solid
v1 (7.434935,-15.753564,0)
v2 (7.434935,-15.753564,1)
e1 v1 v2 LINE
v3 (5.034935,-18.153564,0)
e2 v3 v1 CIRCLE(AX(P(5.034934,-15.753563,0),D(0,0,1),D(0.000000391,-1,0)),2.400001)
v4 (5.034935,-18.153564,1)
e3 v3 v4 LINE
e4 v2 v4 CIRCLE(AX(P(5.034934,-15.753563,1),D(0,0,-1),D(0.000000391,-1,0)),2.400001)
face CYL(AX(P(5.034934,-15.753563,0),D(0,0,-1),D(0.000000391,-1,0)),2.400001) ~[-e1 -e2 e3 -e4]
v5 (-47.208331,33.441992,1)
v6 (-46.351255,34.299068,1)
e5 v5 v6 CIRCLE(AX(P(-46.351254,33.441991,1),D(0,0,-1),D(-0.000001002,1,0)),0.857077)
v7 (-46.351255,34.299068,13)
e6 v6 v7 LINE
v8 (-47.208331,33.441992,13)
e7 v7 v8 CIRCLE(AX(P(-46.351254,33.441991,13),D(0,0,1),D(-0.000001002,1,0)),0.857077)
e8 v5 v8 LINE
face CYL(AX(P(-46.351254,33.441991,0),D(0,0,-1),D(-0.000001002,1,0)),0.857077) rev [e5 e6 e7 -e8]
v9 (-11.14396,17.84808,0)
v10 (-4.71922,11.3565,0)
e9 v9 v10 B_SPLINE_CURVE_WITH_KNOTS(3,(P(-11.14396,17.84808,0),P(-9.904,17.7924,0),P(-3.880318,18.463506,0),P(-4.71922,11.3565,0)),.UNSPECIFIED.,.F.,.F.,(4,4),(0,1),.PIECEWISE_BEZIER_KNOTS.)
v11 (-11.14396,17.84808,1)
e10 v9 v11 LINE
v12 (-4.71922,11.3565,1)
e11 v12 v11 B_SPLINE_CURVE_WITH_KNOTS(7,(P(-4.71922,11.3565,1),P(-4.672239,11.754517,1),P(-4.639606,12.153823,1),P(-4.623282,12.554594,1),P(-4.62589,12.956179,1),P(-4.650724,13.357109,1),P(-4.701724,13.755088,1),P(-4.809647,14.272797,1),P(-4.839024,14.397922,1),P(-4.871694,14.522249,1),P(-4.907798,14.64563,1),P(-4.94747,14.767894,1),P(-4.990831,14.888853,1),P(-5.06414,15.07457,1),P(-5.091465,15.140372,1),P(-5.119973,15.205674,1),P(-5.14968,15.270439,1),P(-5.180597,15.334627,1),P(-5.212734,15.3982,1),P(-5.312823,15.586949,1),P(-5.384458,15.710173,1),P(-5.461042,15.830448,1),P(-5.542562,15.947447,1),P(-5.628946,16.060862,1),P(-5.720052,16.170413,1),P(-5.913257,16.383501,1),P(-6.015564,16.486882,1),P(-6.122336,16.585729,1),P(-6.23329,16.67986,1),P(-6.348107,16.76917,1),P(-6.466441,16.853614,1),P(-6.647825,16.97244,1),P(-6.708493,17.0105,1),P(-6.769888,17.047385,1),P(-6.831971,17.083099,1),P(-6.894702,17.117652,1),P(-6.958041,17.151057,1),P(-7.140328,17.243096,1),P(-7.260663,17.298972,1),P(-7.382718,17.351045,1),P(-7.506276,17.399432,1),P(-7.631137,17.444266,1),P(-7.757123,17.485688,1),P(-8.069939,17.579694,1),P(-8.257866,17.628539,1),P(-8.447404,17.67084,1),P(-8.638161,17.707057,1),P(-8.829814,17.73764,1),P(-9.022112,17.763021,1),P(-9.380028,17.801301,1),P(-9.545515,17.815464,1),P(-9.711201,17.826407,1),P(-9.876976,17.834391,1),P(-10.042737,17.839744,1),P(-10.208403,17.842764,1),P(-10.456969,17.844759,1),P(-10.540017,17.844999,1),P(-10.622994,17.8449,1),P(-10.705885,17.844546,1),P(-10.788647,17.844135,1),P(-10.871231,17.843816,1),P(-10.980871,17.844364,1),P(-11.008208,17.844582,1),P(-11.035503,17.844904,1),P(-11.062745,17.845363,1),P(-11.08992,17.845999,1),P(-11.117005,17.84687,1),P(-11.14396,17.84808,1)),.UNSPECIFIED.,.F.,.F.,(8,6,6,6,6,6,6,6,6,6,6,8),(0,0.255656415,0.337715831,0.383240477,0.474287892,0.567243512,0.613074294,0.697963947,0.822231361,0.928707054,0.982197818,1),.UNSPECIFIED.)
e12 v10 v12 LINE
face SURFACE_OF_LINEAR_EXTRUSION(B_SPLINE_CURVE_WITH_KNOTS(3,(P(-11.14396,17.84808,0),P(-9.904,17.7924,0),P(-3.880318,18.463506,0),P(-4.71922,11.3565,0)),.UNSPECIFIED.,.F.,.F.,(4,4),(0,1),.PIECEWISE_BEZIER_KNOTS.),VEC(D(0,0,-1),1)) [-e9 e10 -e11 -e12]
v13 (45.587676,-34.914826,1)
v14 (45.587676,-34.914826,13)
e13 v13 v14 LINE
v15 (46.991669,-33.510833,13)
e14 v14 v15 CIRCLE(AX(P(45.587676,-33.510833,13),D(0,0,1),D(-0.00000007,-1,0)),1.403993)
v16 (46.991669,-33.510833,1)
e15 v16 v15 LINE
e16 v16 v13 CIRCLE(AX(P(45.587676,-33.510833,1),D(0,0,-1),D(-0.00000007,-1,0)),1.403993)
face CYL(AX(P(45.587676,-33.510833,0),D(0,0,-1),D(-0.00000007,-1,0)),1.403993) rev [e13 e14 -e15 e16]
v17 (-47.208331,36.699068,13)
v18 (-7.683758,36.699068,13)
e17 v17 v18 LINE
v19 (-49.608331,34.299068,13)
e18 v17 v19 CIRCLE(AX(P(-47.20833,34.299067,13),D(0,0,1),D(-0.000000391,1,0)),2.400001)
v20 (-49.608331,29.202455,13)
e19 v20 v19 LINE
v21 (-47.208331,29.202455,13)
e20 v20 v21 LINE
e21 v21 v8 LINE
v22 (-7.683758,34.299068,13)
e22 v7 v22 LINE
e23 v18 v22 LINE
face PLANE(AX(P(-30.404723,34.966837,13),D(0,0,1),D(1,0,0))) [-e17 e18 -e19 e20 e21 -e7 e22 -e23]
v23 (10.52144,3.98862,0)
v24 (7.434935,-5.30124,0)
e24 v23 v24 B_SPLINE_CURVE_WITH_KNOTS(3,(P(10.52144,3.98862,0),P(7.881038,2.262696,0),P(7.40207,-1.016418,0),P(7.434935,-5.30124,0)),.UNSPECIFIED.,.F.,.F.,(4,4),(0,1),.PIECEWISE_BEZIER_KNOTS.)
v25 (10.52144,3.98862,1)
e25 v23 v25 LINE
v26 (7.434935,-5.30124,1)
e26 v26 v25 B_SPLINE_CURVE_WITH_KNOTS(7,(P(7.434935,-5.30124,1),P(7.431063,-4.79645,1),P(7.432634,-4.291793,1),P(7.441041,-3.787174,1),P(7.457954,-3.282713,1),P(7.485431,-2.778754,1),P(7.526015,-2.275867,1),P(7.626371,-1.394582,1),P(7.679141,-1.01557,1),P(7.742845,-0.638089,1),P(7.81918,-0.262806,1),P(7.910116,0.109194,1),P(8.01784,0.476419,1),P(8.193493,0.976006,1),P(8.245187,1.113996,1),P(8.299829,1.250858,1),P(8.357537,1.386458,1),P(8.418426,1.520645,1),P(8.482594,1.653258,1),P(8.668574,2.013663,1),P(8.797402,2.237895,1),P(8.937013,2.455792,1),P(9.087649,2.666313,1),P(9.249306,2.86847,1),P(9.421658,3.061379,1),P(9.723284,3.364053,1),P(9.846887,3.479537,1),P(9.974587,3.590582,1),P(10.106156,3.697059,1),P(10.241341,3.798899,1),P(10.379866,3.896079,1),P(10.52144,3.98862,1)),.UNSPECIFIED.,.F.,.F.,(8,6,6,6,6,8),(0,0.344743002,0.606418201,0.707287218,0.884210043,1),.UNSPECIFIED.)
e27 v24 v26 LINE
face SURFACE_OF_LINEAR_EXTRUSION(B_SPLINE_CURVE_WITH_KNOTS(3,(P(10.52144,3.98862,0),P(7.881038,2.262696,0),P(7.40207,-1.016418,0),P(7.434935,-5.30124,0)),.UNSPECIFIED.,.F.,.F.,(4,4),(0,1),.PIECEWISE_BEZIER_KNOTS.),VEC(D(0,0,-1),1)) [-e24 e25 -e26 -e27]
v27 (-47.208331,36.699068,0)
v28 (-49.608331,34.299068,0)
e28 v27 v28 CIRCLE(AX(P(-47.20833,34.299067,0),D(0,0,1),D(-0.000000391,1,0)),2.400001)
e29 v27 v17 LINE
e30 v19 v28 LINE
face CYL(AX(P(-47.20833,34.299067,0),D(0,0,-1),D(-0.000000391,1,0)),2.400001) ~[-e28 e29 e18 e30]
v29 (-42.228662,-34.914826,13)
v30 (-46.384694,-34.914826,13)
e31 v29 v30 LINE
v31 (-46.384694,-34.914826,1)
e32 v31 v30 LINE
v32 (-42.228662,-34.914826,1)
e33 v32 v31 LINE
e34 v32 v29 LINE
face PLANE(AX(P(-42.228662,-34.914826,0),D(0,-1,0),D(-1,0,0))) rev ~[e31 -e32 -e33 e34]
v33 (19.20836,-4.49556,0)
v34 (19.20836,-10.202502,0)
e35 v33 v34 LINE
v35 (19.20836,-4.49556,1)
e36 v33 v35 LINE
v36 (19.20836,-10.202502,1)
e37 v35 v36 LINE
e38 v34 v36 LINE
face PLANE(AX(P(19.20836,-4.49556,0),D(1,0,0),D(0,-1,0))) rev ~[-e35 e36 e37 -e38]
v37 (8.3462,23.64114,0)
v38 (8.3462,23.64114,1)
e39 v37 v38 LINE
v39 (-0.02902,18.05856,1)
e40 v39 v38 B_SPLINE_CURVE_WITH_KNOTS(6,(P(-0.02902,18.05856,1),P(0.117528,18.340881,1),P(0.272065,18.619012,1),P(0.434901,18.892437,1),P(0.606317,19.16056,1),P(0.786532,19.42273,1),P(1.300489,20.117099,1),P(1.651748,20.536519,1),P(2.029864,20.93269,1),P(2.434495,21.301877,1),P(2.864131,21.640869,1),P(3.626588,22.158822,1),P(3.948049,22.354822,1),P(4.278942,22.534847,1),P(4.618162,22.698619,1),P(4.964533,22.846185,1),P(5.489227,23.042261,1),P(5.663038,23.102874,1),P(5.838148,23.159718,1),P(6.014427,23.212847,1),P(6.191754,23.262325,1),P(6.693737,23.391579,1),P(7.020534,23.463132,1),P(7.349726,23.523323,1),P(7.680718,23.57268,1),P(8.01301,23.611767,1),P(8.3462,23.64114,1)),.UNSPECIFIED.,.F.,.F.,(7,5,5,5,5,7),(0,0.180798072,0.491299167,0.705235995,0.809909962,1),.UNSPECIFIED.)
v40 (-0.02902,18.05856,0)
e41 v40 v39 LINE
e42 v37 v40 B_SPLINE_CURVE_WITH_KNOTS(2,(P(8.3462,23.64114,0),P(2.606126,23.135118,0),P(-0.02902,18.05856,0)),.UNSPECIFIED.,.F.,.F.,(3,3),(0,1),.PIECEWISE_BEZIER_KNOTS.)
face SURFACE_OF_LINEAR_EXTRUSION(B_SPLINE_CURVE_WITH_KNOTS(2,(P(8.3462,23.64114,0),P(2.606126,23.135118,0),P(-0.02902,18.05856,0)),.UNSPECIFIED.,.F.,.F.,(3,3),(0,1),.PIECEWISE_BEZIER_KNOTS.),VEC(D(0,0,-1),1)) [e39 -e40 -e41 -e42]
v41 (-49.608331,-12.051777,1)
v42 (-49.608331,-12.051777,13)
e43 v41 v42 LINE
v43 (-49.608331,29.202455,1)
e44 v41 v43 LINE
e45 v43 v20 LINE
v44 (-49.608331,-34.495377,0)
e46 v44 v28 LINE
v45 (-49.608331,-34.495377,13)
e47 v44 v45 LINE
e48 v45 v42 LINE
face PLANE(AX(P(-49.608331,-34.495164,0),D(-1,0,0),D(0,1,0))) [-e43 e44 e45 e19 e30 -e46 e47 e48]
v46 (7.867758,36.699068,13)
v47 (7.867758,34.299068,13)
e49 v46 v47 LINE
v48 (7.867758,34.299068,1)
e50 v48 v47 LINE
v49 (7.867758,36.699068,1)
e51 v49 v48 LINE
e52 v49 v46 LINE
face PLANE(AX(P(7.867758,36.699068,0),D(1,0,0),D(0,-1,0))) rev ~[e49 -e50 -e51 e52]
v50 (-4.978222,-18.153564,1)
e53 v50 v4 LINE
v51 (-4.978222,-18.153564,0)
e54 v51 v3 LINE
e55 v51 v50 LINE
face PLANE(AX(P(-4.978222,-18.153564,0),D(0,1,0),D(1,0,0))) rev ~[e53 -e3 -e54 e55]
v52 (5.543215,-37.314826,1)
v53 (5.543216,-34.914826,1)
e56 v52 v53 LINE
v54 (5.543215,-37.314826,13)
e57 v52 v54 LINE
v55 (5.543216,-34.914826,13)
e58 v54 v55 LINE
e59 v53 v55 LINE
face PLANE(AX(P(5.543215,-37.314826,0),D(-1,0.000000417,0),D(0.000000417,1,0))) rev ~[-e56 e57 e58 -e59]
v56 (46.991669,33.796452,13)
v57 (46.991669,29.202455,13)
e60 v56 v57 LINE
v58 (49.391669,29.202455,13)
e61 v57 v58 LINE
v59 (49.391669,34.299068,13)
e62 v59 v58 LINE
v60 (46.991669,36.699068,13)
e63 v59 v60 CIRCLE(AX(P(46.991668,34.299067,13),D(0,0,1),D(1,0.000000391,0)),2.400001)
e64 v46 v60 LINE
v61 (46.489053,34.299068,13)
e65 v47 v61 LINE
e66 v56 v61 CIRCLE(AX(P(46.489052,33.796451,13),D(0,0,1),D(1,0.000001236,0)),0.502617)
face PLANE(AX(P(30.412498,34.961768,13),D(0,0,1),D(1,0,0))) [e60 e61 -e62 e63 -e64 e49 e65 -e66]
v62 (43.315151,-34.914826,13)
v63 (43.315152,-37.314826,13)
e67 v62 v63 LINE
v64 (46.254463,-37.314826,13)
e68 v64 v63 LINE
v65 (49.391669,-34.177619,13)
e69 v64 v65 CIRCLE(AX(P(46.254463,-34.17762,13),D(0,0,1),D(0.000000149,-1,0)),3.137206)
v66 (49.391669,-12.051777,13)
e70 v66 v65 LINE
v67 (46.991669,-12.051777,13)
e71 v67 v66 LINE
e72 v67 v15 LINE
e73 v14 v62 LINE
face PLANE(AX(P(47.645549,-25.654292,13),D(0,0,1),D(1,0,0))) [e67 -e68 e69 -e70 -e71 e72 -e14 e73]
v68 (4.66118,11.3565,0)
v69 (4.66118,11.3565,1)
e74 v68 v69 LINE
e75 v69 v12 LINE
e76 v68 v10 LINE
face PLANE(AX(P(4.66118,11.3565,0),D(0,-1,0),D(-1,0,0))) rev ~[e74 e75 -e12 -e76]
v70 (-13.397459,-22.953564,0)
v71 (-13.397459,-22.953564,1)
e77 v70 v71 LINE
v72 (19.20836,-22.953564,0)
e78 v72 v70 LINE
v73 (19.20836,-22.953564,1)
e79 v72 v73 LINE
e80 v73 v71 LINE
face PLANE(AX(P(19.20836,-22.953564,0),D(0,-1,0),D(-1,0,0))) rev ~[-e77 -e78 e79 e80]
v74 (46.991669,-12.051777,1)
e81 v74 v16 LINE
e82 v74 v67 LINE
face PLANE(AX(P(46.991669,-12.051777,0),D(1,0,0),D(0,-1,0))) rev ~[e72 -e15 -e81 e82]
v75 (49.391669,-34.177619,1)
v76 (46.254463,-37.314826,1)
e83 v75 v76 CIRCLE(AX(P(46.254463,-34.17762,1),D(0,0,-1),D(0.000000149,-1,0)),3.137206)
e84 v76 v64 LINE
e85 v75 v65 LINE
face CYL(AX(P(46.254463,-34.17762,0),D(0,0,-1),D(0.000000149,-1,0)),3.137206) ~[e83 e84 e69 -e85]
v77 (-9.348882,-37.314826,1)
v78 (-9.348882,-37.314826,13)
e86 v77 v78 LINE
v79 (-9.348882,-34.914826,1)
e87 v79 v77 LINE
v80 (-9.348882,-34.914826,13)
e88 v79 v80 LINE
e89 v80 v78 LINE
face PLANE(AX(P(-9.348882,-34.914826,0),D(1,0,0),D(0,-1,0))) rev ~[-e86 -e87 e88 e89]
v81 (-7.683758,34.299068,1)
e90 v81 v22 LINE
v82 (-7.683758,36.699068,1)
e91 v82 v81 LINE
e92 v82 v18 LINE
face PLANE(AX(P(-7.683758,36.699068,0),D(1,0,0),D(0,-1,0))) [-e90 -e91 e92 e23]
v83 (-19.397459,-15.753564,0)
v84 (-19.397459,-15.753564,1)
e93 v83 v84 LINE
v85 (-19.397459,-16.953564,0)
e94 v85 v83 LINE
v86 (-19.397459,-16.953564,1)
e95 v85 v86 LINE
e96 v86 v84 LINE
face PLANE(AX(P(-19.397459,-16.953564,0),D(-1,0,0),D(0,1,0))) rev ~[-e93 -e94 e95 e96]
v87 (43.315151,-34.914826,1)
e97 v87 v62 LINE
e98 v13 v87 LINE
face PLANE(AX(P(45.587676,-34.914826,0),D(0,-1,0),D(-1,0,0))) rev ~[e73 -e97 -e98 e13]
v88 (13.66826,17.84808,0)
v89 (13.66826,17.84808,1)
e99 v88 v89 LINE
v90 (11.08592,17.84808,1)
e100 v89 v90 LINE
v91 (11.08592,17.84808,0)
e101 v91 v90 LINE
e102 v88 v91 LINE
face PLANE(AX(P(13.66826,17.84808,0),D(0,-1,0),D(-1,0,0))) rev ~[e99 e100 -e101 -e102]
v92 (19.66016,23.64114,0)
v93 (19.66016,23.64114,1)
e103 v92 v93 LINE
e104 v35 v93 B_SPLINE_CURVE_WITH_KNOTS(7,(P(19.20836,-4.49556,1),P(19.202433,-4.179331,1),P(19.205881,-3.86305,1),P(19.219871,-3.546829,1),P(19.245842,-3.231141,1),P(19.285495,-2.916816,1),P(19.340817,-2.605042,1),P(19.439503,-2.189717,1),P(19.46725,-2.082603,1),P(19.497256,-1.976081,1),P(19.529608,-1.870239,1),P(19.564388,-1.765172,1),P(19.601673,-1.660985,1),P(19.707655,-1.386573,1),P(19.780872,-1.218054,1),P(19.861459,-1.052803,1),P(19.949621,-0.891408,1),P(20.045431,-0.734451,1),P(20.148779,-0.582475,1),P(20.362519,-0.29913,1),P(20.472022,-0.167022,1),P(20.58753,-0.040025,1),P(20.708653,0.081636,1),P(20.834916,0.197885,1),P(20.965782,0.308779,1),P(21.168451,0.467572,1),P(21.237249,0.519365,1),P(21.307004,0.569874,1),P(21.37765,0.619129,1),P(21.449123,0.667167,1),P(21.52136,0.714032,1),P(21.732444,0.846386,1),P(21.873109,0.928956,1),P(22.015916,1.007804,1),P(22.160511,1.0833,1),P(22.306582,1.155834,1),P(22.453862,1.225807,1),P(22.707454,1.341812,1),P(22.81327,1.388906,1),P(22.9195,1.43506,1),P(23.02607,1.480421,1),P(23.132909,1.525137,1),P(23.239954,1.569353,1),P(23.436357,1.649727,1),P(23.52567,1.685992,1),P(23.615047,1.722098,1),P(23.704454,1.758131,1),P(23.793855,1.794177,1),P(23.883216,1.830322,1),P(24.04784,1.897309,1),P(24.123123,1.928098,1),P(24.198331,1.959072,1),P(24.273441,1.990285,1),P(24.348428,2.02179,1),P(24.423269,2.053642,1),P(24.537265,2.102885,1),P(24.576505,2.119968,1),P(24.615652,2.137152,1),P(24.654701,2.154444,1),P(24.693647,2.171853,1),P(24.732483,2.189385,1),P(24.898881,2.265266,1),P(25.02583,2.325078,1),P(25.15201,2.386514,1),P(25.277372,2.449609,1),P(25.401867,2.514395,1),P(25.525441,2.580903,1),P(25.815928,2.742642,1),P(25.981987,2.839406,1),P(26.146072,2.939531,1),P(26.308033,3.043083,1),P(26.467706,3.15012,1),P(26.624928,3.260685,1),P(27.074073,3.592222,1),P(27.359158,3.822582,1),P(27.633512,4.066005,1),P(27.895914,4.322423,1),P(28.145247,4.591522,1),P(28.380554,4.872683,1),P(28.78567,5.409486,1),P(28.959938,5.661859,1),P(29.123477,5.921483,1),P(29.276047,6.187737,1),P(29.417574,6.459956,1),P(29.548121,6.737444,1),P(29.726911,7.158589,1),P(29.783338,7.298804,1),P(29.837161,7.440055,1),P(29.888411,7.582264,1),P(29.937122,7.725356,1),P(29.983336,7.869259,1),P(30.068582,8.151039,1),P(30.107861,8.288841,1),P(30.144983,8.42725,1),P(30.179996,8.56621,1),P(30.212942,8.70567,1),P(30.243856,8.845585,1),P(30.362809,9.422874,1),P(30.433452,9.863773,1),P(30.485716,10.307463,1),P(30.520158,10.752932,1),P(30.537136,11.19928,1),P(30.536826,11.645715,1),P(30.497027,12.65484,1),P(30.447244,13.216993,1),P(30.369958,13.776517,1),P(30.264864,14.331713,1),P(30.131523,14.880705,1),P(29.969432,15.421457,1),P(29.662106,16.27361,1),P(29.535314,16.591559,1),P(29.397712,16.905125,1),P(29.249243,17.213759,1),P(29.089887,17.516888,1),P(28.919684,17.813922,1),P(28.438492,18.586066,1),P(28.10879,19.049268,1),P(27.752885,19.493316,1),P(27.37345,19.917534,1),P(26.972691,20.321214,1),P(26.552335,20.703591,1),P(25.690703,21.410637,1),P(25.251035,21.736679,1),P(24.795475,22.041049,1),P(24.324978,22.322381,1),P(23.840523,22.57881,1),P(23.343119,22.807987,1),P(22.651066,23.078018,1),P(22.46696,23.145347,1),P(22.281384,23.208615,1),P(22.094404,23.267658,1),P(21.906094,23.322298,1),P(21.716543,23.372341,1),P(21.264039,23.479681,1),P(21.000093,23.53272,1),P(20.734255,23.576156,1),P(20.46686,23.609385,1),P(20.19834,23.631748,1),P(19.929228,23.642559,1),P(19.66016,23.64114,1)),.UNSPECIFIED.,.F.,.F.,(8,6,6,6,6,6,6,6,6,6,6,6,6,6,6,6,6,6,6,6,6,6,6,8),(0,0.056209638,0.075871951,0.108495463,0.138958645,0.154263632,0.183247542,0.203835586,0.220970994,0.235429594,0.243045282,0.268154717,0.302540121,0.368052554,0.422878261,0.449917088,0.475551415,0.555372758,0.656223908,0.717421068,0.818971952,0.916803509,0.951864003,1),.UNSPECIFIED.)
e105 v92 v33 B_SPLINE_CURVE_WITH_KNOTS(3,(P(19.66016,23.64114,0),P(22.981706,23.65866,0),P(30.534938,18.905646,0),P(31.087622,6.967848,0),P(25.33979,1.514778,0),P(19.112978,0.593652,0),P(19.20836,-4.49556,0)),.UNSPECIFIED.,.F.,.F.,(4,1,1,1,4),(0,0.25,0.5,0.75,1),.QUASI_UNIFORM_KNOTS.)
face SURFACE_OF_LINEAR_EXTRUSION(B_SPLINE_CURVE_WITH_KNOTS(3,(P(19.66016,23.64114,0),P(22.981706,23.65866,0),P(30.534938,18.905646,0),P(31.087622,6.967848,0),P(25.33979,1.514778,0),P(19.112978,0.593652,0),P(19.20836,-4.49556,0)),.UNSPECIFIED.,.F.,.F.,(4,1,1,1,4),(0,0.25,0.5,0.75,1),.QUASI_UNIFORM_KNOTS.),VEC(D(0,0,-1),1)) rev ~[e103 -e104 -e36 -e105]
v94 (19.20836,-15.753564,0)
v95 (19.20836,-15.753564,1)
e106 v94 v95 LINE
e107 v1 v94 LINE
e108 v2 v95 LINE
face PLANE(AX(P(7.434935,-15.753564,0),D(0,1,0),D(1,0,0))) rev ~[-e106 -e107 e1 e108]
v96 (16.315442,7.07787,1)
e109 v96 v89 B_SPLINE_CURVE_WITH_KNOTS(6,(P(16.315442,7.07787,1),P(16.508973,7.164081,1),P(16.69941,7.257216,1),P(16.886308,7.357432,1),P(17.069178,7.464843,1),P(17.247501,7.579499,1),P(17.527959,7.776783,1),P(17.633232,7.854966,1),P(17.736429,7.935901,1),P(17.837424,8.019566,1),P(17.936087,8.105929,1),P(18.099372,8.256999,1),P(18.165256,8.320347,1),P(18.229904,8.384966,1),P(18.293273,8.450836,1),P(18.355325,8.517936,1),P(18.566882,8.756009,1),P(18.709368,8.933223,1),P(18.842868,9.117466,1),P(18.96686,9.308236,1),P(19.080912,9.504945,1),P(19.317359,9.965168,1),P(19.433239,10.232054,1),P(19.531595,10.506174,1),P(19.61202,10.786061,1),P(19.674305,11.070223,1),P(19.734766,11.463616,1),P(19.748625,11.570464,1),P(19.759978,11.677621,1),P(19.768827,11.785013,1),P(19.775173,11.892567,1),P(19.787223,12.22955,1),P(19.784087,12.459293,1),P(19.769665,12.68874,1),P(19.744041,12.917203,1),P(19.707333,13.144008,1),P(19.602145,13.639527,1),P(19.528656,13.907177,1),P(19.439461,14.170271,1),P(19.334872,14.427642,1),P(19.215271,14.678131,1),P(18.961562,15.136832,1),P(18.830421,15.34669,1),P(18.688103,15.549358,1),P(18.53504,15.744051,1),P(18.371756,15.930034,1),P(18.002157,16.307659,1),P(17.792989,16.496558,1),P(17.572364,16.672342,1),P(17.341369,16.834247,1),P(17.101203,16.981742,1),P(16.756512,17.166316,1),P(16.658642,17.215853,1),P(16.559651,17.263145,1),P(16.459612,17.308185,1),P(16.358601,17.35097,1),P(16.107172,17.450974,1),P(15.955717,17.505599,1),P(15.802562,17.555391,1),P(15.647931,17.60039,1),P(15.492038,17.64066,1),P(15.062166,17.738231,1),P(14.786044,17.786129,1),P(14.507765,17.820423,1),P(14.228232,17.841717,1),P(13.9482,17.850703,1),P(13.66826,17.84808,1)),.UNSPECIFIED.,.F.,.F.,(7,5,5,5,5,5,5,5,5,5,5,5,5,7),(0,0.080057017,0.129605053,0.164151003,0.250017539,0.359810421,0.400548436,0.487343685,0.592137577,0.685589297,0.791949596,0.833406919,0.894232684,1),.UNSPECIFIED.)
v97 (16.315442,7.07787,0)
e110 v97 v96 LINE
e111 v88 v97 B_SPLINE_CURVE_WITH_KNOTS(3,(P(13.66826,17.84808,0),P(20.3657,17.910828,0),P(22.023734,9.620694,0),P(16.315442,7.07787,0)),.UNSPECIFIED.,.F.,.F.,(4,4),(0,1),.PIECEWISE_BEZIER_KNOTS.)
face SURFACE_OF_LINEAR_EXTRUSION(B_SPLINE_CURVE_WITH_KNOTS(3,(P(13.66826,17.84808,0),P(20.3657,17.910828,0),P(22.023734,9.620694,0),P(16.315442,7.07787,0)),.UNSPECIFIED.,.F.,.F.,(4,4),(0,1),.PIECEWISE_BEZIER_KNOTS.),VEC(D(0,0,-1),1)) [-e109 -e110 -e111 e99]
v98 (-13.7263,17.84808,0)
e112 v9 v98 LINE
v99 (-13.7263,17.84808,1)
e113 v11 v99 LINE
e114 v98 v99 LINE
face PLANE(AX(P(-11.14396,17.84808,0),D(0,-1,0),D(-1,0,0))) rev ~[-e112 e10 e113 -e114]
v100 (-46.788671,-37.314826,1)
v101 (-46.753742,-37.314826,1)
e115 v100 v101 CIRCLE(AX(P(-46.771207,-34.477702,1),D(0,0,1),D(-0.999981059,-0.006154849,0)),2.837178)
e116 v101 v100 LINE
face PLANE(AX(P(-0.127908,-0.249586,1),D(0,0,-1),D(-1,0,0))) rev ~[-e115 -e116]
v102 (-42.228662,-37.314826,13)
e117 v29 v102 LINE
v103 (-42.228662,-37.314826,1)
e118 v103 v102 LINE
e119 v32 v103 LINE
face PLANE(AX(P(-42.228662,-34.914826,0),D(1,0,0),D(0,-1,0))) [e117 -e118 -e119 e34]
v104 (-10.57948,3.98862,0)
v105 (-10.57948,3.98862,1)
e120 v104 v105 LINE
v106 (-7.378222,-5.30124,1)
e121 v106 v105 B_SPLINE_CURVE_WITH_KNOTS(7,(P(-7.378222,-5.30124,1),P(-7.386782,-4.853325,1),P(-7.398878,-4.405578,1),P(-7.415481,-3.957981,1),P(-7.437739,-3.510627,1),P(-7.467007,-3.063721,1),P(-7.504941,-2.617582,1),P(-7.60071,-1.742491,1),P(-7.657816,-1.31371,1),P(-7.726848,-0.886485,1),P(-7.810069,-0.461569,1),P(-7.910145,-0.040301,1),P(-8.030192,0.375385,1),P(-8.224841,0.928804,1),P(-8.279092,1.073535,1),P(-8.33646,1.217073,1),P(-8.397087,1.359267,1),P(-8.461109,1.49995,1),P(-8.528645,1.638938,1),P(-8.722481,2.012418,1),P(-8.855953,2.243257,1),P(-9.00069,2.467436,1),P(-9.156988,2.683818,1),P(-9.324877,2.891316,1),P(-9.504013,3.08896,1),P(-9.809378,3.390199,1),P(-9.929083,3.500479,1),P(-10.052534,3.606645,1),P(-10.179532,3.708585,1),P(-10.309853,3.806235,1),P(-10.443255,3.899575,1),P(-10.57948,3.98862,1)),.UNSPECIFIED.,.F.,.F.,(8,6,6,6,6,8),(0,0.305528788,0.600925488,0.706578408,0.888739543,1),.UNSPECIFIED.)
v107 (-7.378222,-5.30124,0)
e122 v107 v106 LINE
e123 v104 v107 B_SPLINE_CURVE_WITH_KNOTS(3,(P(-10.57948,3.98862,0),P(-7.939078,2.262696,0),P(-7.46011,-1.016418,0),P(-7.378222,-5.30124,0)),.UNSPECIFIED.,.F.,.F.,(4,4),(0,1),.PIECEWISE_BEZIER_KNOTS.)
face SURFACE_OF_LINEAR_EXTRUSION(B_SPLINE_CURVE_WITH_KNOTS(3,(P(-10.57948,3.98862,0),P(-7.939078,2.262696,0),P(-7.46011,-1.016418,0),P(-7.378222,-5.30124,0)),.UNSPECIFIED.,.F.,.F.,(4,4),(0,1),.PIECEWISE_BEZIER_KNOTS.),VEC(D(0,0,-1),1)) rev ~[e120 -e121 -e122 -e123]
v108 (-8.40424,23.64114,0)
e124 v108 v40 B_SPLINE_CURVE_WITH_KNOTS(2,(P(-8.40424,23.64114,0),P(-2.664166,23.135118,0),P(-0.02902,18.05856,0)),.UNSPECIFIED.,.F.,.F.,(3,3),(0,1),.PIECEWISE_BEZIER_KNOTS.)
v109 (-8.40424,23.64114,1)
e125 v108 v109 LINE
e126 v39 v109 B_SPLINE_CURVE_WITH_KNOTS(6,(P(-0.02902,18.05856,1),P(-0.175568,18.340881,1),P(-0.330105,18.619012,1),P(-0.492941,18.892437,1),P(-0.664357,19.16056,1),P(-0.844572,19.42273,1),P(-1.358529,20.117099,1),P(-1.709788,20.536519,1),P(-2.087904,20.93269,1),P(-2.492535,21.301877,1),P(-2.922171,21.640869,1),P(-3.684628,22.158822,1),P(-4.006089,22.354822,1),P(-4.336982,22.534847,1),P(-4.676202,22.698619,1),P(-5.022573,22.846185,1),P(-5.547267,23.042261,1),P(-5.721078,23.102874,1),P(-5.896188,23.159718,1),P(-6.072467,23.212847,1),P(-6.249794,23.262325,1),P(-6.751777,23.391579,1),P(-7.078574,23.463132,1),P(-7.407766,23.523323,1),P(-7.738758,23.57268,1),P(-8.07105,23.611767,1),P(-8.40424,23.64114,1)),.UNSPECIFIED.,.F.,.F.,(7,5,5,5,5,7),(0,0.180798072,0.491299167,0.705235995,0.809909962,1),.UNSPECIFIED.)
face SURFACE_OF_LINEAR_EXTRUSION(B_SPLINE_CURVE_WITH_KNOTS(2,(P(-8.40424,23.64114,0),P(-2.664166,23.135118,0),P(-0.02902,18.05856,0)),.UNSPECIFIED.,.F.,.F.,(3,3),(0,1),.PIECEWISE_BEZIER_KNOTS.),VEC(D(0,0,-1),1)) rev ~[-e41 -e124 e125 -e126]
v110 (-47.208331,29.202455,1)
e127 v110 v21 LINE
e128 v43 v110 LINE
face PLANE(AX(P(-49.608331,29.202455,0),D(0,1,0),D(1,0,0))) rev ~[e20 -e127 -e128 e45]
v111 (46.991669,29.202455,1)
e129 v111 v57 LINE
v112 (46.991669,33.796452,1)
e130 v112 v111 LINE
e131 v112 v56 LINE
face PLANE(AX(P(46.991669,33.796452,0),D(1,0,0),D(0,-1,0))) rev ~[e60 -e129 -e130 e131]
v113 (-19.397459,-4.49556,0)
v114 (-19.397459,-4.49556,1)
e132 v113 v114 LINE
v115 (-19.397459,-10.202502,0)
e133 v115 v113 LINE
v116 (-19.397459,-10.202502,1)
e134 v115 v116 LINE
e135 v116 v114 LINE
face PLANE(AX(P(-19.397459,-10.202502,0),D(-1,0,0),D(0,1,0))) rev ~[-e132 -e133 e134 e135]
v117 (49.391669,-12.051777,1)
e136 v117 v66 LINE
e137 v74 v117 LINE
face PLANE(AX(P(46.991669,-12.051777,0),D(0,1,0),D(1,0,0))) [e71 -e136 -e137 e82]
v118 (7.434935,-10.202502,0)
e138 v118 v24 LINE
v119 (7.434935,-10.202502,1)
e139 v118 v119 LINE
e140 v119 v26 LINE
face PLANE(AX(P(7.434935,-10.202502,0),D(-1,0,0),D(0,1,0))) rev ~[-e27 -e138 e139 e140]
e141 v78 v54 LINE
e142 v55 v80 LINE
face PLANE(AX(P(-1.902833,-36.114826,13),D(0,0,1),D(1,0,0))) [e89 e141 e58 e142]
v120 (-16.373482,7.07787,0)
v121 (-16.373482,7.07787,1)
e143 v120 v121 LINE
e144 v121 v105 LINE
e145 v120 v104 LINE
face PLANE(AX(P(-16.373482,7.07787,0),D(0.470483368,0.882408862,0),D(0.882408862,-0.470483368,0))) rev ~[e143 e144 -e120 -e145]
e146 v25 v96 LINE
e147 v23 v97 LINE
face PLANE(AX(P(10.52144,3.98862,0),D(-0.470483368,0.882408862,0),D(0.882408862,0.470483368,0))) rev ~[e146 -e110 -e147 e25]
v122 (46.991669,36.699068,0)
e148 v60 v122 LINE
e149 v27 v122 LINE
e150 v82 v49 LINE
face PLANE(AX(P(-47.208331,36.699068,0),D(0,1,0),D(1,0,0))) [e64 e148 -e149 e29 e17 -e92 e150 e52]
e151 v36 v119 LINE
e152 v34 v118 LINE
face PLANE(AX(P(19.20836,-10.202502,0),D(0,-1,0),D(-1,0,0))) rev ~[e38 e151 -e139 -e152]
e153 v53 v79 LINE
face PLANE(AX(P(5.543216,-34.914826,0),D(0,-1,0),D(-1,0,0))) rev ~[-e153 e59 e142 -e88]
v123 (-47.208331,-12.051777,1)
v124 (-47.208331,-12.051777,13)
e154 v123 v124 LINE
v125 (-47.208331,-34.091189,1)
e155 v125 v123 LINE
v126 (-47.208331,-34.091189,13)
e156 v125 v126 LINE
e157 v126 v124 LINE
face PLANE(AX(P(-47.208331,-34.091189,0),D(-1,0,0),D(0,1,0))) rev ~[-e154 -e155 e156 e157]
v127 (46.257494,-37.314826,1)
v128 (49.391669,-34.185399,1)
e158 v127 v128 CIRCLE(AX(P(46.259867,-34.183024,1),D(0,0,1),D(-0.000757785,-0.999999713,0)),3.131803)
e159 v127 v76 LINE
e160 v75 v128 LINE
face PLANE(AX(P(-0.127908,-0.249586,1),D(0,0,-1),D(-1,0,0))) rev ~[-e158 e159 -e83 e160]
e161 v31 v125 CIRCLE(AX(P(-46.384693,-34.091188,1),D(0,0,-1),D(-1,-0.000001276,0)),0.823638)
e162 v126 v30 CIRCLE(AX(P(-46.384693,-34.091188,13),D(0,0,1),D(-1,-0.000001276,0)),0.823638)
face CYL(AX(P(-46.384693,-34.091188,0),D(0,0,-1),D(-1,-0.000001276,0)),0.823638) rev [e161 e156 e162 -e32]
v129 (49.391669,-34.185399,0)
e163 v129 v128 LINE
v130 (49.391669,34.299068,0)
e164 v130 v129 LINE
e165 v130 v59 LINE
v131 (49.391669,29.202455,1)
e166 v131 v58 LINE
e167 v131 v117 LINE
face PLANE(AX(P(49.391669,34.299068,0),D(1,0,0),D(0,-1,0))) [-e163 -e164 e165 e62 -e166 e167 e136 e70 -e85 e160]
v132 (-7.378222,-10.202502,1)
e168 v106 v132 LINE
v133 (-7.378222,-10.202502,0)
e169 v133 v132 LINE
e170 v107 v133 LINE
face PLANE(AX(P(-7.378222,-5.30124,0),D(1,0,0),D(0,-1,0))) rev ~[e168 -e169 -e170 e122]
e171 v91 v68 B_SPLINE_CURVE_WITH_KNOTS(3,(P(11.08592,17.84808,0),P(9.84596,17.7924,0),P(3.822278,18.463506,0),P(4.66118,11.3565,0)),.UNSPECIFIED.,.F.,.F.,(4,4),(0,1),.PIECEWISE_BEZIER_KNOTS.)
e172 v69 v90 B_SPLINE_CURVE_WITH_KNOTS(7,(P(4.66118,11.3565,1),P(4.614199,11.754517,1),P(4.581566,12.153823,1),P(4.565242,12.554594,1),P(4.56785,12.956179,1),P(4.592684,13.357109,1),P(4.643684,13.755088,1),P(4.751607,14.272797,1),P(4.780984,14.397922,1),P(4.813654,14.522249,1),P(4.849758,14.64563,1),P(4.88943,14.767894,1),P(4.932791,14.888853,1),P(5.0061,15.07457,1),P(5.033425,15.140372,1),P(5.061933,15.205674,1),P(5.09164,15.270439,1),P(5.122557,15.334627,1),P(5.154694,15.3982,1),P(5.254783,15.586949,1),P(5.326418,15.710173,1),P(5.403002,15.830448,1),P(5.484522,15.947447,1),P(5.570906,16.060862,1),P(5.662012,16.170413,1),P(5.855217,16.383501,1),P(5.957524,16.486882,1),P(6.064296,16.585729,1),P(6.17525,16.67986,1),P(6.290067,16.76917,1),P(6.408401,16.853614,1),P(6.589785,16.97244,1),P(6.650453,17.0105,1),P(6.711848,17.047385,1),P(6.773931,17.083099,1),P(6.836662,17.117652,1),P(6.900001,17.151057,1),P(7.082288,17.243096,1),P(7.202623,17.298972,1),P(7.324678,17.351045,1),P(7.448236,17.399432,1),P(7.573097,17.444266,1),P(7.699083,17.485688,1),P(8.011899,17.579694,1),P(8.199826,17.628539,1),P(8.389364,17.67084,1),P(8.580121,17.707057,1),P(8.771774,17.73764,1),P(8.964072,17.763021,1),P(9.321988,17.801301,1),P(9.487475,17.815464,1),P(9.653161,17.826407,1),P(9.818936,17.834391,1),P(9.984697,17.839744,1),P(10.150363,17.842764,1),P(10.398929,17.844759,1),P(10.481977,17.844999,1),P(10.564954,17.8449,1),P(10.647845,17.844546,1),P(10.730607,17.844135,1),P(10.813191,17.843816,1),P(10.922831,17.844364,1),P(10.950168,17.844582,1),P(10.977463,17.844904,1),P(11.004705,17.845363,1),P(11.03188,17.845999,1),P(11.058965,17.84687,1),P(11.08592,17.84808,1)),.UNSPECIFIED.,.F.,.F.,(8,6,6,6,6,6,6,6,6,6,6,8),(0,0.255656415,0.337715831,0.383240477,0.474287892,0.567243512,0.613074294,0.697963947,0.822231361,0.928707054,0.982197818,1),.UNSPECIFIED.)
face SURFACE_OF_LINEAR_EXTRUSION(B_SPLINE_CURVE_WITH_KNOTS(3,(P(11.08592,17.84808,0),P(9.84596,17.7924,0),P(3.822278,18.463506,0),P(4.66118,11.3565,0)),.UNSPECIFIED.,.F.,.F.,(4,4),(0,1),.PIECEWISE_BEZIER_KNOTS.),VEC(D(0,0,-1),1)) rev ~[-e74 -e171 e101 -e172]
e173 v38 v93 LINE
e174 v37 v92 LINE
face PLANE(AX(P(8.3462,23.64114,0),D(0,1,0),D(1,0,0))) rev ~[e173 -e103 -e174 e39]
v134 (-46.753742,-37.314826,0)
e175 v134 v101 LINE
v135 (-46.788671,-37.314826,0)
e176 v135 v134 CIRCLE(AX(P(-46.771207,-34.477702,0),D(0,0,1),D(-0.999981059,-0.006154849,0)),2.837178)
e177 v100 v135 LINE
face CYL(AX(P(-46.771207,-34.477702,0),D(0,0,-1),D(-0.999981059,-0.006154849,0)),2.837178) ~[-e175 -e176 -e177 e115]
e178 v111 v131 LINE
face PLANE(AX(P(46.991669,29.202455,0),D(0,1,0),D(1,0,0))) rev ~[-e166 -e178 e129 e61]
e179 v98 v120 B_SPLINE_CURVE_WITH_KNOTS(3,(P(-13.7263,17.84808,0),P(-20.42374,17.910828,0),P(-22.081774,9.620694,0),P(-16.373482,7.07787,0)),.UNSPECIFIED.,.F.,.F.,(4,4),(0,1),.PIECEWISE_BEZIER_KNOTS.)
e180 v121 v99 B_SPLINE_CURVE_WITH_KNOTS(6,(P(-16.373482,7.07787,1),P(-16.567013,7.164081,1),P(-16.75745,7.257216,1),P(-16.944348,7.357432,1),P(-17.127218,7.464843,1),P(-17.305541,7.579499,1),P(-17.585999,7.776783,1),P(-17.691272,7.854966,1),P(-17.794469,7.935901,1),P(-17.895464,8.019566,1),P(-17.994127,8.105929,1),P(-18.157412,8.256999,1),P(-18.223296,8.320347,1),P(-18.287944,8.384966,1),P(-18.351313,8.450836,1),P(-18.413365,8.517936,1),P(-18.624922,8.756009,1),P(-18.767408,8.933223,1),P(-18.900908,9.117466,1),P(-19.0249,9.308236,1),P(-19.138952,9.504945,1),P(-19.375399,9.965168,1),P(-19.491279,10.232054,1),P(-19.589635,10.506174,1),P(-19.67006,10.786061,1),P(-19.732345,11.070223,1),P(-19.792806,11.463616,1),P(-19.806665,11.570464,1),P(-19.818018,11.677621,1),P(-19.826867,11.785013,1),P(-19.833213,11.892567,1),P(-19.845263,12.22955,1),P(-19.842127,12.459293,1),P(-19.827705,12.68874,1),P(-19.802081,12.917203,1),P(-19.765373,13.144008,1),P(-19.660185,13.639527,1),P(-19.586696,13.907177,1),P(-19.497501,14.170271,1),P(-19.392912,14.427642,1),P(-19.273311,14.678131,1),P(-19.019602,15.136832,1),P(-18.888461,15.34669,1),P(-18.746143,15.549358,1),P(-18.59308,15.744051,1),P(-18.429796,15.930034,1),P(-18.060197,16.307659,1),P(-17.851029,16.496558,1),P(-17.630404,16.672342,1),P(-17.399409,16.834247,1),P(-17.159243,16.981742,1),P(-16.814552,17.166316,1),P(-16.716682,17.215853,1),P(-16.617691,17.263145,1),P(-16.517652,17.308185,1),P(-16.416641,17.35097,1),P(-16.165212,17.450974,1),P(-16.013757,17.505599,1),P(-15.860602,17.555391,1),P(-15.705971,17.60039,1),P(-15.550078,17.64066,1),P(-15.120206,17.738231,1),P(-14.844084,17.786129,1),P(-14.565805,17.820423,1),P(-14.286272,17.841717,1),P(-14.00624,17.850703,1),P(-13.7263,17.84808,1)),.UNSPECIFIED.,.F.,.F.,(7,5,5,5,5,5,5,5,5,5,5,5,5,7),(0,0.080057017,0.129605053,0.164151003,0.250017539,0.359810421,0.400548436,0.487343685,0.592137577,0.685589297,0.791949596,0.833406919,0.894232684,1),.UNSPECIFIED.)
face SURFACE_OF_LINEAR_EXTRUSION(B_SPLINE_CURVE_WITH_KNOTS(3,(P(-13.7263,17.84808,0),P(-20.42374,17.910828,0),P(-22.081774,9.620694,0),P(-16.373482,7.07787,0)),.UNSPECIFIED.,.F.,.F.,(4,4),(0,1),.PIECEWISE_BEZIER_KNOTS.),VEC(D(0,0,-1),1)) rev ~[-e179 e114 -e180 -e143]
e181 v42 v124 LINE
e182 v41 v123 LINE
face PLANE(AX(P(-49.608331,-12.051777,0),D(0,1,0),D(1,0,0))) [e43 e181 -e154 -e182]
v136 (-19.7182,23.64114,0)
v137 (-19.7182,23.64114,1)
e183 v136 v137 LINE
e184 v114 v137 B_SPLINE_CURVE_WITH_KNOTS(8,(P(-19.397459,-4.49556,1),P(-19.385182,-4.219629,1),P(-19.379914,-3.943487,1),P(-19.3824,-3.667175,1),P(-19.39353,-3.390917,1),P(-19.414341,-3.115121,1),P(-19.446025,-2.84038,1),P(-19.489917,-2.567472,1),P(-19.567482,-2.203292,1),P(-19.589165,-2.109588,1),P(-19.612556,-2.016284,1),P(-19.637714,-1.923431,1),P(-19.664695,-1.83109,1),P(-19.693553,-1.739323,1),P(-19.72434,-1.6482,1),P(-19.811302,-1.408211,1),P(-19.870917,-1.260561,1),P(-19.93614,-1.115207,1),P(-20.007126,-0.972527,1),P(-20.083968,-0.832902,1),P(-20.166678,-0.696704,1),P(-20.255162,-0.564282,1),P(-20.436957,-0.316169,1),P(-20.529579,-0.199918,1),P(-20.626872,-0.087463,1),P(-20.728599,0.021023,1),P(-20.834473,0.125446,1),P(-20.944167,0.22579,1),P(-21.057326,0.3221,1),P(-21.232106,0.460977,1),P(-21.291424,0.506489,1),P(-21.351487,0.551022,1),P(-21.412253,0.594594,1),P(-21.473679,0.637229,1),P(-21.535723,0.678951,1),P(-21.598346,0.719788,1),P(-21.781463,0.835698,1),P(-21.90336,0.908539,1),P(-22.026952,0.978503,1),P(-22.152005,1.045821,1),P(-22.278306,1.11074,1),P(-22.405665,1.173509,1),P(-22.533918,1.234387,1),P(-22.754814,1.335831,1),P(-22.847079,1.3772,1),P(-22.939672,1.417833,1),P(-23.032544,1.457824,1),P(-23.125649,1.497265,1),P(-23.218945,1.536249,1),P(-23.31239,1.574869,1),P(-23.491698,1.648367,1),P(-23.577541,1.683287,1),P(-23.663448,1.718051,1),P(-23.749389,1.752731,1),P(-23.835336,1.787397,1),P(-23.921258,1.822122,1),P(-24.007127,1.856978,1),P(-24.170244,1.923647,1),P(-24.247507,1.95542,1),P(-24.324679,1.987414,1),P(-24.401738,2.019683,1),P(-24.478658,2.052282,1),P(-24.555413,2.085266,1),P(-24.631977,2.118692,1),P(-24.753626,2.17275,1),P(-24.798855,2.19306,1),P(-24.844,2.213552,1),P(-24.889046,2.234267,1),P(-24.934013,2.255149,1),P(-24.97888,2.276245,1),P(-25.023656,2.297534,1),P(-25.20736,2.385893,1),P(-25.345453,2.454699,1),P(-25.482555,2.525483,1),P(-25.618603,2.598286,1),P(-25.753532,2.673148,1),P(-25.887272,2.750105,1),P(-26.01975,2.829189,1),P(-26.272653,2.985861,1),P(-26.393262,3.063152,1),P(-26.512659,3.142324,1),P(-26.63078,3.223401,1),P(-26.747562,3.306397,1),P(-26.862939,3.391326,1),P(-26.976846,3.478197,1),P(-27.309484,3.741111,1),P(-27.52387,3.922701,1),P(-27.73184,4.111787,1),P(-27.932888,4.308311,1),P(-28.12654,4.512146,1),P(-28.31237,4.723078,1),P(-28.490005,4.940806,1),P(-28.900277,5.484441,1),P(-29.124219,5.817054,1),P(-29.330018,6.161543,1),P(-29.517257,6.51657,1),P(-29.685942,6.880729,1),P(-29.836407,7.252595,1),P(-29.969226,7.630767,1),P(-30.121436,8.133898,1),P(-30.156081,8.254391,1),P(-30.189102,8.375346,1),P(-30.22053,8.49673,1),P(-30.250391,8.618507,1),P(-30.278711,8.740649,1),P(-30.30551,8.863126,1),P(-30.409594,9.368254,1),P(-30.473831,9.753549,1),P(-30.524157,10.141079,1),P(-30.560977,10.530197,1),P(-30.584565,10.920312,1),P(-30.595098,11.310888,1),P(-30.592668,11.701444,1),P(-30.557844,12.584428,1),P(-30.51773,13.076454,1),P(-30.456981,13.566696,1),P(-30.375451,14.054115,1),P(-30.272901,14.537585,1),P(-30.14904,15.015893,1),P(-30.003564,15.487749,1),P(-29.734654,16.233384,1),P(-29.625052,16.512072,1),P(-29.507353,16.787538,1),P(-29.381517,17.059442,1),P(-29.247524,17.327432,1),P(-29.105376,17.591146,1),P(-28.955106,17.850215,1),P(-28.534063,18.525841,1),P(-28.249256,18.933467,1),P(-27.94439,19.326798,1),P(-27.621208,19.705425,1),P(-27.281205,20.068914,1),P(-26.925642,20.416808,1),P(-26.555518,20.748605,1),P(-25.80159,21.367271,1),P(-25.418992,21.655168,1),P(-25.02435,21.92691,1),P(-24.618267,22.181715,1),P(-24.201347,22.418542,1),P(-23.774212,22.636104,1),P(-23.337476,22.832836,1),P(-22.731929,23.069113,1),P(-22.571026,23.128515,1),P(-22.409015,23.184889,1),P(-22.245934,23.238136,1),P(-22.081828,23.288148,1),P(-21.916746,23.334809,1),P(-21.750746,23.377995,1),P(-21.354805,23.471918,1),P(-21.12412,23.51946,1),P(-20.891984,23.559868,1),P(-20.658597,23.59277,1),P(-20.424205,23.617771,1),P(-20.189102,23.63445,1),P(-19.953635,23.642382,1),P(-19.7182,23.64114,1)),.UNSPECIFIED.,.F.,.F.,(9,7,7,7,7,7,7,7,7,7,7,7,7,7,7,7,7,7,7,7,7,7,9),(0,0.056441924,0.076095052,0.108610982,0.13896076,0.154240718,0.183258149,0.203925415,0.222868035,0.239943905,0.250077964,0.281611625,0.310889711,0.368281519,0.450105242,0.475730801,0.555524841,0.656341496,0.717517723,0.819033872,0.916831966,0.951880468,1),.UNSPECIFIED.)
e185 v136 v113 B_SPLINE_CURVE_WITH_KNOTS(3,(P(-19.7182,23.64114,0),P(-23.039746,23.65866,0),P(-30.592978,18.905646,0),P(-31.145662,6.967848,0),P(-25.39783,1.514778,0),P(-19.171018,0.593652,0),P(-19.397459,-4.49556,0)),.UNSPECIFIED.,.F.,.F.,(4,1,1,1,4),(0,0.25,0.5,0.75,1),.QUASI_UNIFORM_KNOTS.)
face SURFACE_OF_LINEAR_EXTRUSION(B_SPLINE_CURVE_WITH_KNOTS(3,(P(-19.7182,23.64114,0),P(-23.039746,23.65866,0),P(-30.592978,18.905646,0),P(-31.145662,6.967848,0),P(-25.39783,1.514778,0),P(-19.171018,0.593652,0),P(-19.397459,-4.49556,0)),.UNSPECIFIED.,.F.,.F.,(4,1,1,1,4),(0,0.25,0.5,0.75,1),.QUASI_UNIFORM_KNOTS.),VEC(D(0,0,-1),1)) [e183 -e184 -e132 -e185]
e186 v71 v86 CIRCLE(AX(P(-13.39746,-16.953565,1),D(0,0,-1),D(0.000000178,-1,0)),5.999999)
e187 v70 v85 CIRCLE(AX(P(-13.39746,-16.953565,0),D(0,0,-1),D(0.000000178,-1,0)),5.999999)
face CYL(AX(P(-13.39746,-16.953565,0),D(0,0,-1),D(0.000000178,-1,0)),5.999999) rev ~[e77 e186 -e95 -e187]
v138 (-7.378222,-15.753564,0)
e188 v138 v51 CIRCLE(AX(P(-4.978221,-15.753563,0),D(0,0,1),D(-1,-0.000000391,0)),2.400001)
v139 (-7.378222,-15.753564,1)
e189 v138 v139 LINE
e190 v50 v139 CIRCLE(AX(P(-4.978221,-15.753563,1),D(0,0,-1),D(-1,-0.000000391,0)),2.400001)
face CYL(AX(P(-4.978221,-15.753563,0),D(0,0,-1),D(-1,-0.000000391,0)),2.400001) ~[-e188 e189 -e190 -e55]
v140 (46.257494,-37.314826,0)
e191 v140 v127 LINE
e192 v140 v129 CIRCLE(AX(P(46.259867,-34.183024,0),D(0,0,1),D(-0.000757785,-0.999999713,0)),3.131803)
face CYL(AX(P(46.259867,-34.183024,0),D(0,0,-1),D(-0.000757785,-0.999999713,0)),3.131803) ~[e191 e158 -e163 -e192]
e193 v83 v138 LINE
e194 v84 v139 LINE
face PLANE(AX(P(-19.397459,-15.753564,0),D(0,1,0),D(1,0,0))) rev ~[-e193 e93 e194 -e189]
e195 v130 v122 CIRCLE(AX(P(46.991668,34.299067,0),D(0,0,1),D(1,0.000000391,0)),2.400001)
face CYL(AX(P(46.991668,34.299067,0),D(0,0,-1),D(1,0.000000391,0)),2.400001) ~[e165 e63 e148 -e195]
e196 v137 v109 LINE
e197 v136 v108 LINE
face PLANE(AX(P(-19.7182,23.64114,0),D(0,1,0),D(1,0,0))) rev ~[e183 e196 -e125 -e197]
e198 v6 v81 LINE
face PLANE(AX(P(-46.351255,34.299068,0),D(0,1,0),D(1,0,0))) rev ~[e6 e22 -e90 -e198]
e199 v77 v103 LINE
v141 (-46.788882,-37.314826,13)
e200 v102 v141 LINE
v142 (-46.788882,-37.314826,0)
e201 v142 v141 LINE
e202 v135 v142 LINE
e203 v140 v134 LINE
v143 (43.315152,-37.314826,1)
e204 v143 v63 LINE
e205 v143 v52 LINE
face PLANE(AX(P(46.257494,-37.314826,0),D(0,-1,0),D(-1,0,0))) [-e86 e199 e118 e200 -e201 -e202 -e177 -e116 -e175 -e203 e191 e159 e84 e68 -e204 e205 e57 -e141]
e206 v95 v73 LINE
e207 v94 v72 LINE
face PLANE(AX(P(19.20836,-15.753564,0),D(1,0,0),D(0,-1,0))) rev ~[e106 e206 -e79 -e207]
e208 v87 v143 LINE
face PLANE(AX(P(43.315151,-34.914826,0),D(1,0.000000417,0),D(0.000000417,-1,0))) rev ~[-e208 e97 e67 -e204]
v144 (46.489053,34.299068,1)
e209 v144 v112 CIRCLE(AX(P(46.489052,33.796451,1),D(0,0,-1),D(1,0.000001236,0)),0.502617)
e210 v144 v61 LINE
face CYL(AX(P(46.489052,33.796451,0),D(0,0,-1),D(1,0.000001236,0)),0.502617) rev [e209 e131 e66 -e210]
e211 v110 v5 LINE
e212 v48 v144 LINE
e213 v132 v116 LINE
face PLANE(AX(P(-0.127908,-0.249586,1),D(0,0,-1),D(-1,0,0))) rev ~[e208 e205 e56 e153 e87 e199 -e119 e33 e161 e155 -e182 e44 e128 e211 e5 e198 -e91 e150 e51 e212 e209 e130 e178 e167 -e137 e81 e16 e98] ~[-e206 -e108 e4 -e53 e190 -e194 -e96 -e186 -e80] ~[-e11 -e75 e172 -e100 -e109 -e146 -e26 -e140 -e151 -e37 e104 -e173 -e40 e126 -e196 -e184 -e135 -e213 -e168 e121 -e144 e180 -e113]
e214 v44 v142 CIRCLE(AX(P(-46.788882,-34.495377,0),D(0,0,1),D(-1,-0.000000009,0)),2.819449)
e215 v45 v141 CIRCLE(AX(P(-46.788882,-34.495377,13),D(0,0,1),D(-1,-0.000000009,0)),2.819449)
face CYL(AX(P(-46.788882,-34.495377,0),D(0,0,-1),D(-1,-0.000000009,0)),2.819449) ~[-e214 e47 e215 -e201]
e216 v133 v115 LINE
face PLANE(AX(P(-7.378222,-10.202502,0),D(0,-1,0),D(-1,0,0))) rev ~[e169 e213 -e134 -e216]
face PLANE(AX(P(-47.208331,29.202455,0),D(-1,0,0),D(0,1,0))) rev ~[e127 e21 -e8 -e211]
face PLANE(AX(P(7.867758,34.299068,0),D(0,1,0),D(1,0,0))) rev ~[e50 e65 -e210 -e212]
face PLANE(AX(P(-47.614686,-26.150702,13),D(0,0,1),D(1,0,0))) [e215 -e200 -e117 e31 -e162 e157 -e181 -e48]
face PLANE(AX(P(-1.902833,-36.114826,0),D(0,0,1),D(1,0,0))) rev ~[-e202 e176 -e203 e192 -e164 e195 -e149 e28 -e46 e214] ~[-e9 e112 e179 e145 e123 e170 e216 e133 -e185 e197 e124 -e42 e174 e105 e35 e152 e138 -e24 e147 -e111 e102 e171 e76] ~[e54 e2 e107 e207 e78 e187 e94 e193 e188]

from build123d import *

# Parameters (mm, degrees)
EXTRUDE001_DEPTH = 3
EXTRUDE_DEPTH    = 13
PAD_DEPTH        = 1


with BuildPart() as logo:
    # Clone001 → Extrude001 (new body)
    with BuildSketch(Plane(origin=(-0.02902, 0.352548, 0), x_dir=(0, 1, 0), z_dir=(0, 0, 1))):
        with BuildLine():
            Line((11.003952, 0), (11.003952, 4.6902))
            add(Edge.make_bspline(
                [(17.495532, 11.11494), (17.439852, 9.87498), (18.110958, 3.851298), (11.003952, 4.6902)],
                knots=[0, 0, 0, 0, 1, 1, 1, 1], degree=3))
            Line((17.495532, 11.11494), (17.495532, 13.69728))
            add(Edge.make_bspline(
                [(17.495532, 13.69728), (17.55828, 20.39472), (9.268146, 22.052754), (6.725322, 16.344462)],
                knots=[0, 0, 0, 0, 1, 1, 1, 1], degree=3))
            Line((6.725322, 16.344462), (3.636072, 10.55046))
            add(Edge.make_bspline(
                [(3.636072, 10.55046), (1.910148, 7.910058), (-1.368966, 7.43109), (-5.653788, 7.349202)],
                knots=[0, 0, 0, 0, 1, 1, 1, 1], degree=3))
            Line((-5.653788, 7.349202), (-10.55505, 7.349202))
            Line((-10.55505, 7.349202), (-10.55505, 19.368439))
            Line((-10.55505, 19.368439), (-4.848108, 19.368439))
            add(Edge.make_bspline(
                [(23.288592, 19.68918), (23.306112, 23.010726), (18.553098, 30.563958), (6.6153, 31.116642), (1.16223, 25.36881), (0.241104, 19.141998), (-4.848108, 19.368439)],
                knots=[0, 0, 0, 0, 0.25, 0.5, 0.75, 1, 1, 1, 1], degree=3))
            Line((23.288592, 19.68918), (23.288592, 8.37522))
            add(Edge.make_bspline(
                [(23.288592, 8.37522), (22.78257, 2.635146), (17.706012, 0)],
                knots=[0, 0, 0, 1, 1, 1], degree=2))
            add(Edge.make_bspline(
                [(23.288592, -8.37522), (22.78257, -2.635146), (17.706012, 0)],
                knots=[0, 0, 0, 1, 1, 1], degree=2))
            Line((23.288592, -8.37522), (23.288592, -19.68918))
            add(Edge.make_bspline(
                [(23.288592, -19.68918), (23.306112, -23.010726), (18.553098, -30.563958), (6.6153, -31.116642), (1.16223, -25.36881), (0.241104, -19.141998), (-4.848108, -19.23738)],
                knots=[0, 0, 0, 0, 0.25, 0.5, 0.75, 1, 1, 1, 1], degree=3))
            Line((-4.848108, -19.23738), (-10.55505, -19.23738))
            Line((-10.55505, -19.23738), (-10.55505, -7.463955))
            Line((-10.55505, -7.463955), (-5.653788, -7.463955))
            add(Edge.make_bspline(
                [(3.636072, -10.55046), (1.910148, -7.910058), (-1.368966, -7.43109), (-5.653788, -7.463955)],
                knots=[0, 0, 0, 0, 1, 1, 1, 1], degree=3))
            Line((3.636072, -10.55046), (6.725322, -16.344462))
            add(Edge.make_bspline(
                [(17.495532, -13.69728), (17.55828, -20.39472), (9.268146, -22.052754), (6.725322, -16.344462)],
                knots=[0, 0, 0, 0, 1, 1, 1, 1], degree=3))
            Line((17.495532, -13.69728), (17.495532, -11.11494))
            add(Edge.make_bspline(
                [(17.495532, -11.11494), (17.439852, -9.87498), (18.110958, -3.851298), (11.003952, -4.6902)],
                knots=[0, 0, 0, 0, 1, 1, 1, 1], degree=3))
            Line((11.003952, -4.6902), (11.003952, 0))
        make_face()
        with BuildLine():
            Line((-17.306112, 19.368439), (-16.106112, 19.368439))
            Line((-16.106112, 19.368439), (-16.106112, 7.349202))
            ThreePointArc((-16.106112, 7.349202), (-17.803168, 6.646258), (-18.506112, 4.949202))
            Line((-18.506112, 4.949202), (-18.506112, -5.063955))
            ThreePointArc((-18.506112, -5.063955), (-17.803168, -6.761011), (-16.106112, -7.463955))
            Line((-16.106112, -7.463955), (-16.106112, -19.23738))
            Line((-16.106112, -19.23738), (-23.306112, -19.23738))
            Line((-23.306112, -19.23738), (-23.306112, 13.368439))
            ThreePointArc((-23.306112, 13.368439), (-21.548753, 17.61108), (-17.306112, 19.368439))
        make_face()
    extrude(amount=EXTRUDE001_DEPTH)


with BuildPart() as basewall:
    # Sketch002 → Extrude (new body)
    with BuildSketch(Plane.XY):
        with BuildLine():
            Line((-46.351255, 34.299068), (-7.683758, 34.299068))
            Line((-7.683758, 36.699068), (-7.683758, 34.299068))
            Line((-47.208331, 36.699068), (-7.683758, 36.699068))
            ThreePointArc((-47.208331, 36.699068), (-48.905387, 35.996124), (-49.608331, 34.299068))
            Line((-49.608331, 29.202455), (-49.608331, 34.299068))
            Line((-49.608331, 29.202455), (-47.208331, 29.202455))
            Line((-47.208331, 29.202455), (-47.208331, 33.441992))
            ThreePointArc((-46.351255, 34.299068), (-46.957299, 34.048036), (-47.208331, 33.441992))
        make_face()
        with BuildLine():
            Line((46.991669, 33.796452), (46.991669, 29.202455))
            Line((46.991669, 29.202455), (49.391669, 29.202455))
            Line((49.391669, 34.299068), (49.391669, 29.202455))
            ThreePointArc((49.391669, 34.299068), (48.688725, 35.996124), (46.991669, 36.699068))
            Line((7.867758, 36.699068), (46.991669, 36.699068))
            Line((7.867758, 36.699068), (7.867758, 34.299068))
            Line((7.867758, 34.299068), (46.489053, 34.299068))
            ThreePointArc((46.991669, 33.796452), (46.844456, 34.151855), (46.489053, 34.299068))
        make_face()
        with BuildLine():
            Line((45.587676, -34.914826), (43.315151, -34.914826))
            Line((43.315151, -34.914826), (43.315152, -37.314826))
            Line((46.254463, -37.314826), (43.315152, -37.314826))
            ThreePointArc((46.254463, -37.314826), (48.472803, -36.395959), (49.391669, -34.177619))
            Line((49.391669, -12.051777), (49.391669, -34.177619))
            Line((46.991669, -12.051777), (49.391669, -12.051777))
            Line((46.991669, -12.051777), (46.991669, -33.510833))
            ThreePointArc((45.587676, -34.914826), (46.580449, -34.503606), (46.991669, -33.510833))
        make_face()
        with BuildLine():
            Line((-47.208331, -34.091189), (-47.208331, -12.051777))
            Line((-49.608331, -12.051777), (-47.208331, -12.051777))
            Line((-49.608331, -34.495377), (-49.608331, -12.051777))
            ThreePointArc((-49.608331, -34.495377), (-48.782534, -36.489028), (-46.788882, -37.314826))
            Line((-42.228662, -37.314826), (-46.788882, -37.314826))
            Line((-42.228662, -34.914826), (-42.228662, -37.314826))
            Line((-42.228662, -34.914826), (-46.384694, -34.914826))
            ThreePointArc((-47.208331, -34.091189), (-46.967093, -34.673588), (-46.384694, -34.914826))
        make_face()
        Polygon((-9.348882, -34.914826), (-9.348882, -37.314826), (5.543215, -37.314826), (5.543216, -34.914826), align=None)
    extrude(amount=EXTRUDE_DEPTH)


with BuildPart() as brandedbase:
    # Sketch → Pad (new body)
    with BuildSketch(Plane.XY):
        with BuildLine():
            Line((-47.208331, 36.699068), (46.991669, 36.699068))
            ThreePointArc((49.391669, 34.299068), (48.688725, 35.996124), (46.991669, 36.699068))
            Line((49.391669, 34.299068), (49.391669, -34.185399))
            ThreePointArc((46.257494, -37.314826), (48.472707, -36.399221), (49.391669, -34.185399))
            Line((46.257494, -37.314826), (-46.753742, -37.314826))
            ThreePointArc((-49.608331, -34.495164), (-48.765008, -36.4962), (-46.753742, -37.314826))
            Line((-49.608331, -34.495164), (-49.608331, 34.299068))
            ThreePointArc((-47.208331, 36.699068), (-48.905387, 35.996124), (-49.608331, 34.299068))
        make_face()
    extrude(amount=PAD_DEPTH)

    # Fusion: union BaseWall
    add(basewall.part)

    # Cut: cut Logo
    add(logo.part, mode=Mode.SUBTRACT)


solid = brandedbase.part
